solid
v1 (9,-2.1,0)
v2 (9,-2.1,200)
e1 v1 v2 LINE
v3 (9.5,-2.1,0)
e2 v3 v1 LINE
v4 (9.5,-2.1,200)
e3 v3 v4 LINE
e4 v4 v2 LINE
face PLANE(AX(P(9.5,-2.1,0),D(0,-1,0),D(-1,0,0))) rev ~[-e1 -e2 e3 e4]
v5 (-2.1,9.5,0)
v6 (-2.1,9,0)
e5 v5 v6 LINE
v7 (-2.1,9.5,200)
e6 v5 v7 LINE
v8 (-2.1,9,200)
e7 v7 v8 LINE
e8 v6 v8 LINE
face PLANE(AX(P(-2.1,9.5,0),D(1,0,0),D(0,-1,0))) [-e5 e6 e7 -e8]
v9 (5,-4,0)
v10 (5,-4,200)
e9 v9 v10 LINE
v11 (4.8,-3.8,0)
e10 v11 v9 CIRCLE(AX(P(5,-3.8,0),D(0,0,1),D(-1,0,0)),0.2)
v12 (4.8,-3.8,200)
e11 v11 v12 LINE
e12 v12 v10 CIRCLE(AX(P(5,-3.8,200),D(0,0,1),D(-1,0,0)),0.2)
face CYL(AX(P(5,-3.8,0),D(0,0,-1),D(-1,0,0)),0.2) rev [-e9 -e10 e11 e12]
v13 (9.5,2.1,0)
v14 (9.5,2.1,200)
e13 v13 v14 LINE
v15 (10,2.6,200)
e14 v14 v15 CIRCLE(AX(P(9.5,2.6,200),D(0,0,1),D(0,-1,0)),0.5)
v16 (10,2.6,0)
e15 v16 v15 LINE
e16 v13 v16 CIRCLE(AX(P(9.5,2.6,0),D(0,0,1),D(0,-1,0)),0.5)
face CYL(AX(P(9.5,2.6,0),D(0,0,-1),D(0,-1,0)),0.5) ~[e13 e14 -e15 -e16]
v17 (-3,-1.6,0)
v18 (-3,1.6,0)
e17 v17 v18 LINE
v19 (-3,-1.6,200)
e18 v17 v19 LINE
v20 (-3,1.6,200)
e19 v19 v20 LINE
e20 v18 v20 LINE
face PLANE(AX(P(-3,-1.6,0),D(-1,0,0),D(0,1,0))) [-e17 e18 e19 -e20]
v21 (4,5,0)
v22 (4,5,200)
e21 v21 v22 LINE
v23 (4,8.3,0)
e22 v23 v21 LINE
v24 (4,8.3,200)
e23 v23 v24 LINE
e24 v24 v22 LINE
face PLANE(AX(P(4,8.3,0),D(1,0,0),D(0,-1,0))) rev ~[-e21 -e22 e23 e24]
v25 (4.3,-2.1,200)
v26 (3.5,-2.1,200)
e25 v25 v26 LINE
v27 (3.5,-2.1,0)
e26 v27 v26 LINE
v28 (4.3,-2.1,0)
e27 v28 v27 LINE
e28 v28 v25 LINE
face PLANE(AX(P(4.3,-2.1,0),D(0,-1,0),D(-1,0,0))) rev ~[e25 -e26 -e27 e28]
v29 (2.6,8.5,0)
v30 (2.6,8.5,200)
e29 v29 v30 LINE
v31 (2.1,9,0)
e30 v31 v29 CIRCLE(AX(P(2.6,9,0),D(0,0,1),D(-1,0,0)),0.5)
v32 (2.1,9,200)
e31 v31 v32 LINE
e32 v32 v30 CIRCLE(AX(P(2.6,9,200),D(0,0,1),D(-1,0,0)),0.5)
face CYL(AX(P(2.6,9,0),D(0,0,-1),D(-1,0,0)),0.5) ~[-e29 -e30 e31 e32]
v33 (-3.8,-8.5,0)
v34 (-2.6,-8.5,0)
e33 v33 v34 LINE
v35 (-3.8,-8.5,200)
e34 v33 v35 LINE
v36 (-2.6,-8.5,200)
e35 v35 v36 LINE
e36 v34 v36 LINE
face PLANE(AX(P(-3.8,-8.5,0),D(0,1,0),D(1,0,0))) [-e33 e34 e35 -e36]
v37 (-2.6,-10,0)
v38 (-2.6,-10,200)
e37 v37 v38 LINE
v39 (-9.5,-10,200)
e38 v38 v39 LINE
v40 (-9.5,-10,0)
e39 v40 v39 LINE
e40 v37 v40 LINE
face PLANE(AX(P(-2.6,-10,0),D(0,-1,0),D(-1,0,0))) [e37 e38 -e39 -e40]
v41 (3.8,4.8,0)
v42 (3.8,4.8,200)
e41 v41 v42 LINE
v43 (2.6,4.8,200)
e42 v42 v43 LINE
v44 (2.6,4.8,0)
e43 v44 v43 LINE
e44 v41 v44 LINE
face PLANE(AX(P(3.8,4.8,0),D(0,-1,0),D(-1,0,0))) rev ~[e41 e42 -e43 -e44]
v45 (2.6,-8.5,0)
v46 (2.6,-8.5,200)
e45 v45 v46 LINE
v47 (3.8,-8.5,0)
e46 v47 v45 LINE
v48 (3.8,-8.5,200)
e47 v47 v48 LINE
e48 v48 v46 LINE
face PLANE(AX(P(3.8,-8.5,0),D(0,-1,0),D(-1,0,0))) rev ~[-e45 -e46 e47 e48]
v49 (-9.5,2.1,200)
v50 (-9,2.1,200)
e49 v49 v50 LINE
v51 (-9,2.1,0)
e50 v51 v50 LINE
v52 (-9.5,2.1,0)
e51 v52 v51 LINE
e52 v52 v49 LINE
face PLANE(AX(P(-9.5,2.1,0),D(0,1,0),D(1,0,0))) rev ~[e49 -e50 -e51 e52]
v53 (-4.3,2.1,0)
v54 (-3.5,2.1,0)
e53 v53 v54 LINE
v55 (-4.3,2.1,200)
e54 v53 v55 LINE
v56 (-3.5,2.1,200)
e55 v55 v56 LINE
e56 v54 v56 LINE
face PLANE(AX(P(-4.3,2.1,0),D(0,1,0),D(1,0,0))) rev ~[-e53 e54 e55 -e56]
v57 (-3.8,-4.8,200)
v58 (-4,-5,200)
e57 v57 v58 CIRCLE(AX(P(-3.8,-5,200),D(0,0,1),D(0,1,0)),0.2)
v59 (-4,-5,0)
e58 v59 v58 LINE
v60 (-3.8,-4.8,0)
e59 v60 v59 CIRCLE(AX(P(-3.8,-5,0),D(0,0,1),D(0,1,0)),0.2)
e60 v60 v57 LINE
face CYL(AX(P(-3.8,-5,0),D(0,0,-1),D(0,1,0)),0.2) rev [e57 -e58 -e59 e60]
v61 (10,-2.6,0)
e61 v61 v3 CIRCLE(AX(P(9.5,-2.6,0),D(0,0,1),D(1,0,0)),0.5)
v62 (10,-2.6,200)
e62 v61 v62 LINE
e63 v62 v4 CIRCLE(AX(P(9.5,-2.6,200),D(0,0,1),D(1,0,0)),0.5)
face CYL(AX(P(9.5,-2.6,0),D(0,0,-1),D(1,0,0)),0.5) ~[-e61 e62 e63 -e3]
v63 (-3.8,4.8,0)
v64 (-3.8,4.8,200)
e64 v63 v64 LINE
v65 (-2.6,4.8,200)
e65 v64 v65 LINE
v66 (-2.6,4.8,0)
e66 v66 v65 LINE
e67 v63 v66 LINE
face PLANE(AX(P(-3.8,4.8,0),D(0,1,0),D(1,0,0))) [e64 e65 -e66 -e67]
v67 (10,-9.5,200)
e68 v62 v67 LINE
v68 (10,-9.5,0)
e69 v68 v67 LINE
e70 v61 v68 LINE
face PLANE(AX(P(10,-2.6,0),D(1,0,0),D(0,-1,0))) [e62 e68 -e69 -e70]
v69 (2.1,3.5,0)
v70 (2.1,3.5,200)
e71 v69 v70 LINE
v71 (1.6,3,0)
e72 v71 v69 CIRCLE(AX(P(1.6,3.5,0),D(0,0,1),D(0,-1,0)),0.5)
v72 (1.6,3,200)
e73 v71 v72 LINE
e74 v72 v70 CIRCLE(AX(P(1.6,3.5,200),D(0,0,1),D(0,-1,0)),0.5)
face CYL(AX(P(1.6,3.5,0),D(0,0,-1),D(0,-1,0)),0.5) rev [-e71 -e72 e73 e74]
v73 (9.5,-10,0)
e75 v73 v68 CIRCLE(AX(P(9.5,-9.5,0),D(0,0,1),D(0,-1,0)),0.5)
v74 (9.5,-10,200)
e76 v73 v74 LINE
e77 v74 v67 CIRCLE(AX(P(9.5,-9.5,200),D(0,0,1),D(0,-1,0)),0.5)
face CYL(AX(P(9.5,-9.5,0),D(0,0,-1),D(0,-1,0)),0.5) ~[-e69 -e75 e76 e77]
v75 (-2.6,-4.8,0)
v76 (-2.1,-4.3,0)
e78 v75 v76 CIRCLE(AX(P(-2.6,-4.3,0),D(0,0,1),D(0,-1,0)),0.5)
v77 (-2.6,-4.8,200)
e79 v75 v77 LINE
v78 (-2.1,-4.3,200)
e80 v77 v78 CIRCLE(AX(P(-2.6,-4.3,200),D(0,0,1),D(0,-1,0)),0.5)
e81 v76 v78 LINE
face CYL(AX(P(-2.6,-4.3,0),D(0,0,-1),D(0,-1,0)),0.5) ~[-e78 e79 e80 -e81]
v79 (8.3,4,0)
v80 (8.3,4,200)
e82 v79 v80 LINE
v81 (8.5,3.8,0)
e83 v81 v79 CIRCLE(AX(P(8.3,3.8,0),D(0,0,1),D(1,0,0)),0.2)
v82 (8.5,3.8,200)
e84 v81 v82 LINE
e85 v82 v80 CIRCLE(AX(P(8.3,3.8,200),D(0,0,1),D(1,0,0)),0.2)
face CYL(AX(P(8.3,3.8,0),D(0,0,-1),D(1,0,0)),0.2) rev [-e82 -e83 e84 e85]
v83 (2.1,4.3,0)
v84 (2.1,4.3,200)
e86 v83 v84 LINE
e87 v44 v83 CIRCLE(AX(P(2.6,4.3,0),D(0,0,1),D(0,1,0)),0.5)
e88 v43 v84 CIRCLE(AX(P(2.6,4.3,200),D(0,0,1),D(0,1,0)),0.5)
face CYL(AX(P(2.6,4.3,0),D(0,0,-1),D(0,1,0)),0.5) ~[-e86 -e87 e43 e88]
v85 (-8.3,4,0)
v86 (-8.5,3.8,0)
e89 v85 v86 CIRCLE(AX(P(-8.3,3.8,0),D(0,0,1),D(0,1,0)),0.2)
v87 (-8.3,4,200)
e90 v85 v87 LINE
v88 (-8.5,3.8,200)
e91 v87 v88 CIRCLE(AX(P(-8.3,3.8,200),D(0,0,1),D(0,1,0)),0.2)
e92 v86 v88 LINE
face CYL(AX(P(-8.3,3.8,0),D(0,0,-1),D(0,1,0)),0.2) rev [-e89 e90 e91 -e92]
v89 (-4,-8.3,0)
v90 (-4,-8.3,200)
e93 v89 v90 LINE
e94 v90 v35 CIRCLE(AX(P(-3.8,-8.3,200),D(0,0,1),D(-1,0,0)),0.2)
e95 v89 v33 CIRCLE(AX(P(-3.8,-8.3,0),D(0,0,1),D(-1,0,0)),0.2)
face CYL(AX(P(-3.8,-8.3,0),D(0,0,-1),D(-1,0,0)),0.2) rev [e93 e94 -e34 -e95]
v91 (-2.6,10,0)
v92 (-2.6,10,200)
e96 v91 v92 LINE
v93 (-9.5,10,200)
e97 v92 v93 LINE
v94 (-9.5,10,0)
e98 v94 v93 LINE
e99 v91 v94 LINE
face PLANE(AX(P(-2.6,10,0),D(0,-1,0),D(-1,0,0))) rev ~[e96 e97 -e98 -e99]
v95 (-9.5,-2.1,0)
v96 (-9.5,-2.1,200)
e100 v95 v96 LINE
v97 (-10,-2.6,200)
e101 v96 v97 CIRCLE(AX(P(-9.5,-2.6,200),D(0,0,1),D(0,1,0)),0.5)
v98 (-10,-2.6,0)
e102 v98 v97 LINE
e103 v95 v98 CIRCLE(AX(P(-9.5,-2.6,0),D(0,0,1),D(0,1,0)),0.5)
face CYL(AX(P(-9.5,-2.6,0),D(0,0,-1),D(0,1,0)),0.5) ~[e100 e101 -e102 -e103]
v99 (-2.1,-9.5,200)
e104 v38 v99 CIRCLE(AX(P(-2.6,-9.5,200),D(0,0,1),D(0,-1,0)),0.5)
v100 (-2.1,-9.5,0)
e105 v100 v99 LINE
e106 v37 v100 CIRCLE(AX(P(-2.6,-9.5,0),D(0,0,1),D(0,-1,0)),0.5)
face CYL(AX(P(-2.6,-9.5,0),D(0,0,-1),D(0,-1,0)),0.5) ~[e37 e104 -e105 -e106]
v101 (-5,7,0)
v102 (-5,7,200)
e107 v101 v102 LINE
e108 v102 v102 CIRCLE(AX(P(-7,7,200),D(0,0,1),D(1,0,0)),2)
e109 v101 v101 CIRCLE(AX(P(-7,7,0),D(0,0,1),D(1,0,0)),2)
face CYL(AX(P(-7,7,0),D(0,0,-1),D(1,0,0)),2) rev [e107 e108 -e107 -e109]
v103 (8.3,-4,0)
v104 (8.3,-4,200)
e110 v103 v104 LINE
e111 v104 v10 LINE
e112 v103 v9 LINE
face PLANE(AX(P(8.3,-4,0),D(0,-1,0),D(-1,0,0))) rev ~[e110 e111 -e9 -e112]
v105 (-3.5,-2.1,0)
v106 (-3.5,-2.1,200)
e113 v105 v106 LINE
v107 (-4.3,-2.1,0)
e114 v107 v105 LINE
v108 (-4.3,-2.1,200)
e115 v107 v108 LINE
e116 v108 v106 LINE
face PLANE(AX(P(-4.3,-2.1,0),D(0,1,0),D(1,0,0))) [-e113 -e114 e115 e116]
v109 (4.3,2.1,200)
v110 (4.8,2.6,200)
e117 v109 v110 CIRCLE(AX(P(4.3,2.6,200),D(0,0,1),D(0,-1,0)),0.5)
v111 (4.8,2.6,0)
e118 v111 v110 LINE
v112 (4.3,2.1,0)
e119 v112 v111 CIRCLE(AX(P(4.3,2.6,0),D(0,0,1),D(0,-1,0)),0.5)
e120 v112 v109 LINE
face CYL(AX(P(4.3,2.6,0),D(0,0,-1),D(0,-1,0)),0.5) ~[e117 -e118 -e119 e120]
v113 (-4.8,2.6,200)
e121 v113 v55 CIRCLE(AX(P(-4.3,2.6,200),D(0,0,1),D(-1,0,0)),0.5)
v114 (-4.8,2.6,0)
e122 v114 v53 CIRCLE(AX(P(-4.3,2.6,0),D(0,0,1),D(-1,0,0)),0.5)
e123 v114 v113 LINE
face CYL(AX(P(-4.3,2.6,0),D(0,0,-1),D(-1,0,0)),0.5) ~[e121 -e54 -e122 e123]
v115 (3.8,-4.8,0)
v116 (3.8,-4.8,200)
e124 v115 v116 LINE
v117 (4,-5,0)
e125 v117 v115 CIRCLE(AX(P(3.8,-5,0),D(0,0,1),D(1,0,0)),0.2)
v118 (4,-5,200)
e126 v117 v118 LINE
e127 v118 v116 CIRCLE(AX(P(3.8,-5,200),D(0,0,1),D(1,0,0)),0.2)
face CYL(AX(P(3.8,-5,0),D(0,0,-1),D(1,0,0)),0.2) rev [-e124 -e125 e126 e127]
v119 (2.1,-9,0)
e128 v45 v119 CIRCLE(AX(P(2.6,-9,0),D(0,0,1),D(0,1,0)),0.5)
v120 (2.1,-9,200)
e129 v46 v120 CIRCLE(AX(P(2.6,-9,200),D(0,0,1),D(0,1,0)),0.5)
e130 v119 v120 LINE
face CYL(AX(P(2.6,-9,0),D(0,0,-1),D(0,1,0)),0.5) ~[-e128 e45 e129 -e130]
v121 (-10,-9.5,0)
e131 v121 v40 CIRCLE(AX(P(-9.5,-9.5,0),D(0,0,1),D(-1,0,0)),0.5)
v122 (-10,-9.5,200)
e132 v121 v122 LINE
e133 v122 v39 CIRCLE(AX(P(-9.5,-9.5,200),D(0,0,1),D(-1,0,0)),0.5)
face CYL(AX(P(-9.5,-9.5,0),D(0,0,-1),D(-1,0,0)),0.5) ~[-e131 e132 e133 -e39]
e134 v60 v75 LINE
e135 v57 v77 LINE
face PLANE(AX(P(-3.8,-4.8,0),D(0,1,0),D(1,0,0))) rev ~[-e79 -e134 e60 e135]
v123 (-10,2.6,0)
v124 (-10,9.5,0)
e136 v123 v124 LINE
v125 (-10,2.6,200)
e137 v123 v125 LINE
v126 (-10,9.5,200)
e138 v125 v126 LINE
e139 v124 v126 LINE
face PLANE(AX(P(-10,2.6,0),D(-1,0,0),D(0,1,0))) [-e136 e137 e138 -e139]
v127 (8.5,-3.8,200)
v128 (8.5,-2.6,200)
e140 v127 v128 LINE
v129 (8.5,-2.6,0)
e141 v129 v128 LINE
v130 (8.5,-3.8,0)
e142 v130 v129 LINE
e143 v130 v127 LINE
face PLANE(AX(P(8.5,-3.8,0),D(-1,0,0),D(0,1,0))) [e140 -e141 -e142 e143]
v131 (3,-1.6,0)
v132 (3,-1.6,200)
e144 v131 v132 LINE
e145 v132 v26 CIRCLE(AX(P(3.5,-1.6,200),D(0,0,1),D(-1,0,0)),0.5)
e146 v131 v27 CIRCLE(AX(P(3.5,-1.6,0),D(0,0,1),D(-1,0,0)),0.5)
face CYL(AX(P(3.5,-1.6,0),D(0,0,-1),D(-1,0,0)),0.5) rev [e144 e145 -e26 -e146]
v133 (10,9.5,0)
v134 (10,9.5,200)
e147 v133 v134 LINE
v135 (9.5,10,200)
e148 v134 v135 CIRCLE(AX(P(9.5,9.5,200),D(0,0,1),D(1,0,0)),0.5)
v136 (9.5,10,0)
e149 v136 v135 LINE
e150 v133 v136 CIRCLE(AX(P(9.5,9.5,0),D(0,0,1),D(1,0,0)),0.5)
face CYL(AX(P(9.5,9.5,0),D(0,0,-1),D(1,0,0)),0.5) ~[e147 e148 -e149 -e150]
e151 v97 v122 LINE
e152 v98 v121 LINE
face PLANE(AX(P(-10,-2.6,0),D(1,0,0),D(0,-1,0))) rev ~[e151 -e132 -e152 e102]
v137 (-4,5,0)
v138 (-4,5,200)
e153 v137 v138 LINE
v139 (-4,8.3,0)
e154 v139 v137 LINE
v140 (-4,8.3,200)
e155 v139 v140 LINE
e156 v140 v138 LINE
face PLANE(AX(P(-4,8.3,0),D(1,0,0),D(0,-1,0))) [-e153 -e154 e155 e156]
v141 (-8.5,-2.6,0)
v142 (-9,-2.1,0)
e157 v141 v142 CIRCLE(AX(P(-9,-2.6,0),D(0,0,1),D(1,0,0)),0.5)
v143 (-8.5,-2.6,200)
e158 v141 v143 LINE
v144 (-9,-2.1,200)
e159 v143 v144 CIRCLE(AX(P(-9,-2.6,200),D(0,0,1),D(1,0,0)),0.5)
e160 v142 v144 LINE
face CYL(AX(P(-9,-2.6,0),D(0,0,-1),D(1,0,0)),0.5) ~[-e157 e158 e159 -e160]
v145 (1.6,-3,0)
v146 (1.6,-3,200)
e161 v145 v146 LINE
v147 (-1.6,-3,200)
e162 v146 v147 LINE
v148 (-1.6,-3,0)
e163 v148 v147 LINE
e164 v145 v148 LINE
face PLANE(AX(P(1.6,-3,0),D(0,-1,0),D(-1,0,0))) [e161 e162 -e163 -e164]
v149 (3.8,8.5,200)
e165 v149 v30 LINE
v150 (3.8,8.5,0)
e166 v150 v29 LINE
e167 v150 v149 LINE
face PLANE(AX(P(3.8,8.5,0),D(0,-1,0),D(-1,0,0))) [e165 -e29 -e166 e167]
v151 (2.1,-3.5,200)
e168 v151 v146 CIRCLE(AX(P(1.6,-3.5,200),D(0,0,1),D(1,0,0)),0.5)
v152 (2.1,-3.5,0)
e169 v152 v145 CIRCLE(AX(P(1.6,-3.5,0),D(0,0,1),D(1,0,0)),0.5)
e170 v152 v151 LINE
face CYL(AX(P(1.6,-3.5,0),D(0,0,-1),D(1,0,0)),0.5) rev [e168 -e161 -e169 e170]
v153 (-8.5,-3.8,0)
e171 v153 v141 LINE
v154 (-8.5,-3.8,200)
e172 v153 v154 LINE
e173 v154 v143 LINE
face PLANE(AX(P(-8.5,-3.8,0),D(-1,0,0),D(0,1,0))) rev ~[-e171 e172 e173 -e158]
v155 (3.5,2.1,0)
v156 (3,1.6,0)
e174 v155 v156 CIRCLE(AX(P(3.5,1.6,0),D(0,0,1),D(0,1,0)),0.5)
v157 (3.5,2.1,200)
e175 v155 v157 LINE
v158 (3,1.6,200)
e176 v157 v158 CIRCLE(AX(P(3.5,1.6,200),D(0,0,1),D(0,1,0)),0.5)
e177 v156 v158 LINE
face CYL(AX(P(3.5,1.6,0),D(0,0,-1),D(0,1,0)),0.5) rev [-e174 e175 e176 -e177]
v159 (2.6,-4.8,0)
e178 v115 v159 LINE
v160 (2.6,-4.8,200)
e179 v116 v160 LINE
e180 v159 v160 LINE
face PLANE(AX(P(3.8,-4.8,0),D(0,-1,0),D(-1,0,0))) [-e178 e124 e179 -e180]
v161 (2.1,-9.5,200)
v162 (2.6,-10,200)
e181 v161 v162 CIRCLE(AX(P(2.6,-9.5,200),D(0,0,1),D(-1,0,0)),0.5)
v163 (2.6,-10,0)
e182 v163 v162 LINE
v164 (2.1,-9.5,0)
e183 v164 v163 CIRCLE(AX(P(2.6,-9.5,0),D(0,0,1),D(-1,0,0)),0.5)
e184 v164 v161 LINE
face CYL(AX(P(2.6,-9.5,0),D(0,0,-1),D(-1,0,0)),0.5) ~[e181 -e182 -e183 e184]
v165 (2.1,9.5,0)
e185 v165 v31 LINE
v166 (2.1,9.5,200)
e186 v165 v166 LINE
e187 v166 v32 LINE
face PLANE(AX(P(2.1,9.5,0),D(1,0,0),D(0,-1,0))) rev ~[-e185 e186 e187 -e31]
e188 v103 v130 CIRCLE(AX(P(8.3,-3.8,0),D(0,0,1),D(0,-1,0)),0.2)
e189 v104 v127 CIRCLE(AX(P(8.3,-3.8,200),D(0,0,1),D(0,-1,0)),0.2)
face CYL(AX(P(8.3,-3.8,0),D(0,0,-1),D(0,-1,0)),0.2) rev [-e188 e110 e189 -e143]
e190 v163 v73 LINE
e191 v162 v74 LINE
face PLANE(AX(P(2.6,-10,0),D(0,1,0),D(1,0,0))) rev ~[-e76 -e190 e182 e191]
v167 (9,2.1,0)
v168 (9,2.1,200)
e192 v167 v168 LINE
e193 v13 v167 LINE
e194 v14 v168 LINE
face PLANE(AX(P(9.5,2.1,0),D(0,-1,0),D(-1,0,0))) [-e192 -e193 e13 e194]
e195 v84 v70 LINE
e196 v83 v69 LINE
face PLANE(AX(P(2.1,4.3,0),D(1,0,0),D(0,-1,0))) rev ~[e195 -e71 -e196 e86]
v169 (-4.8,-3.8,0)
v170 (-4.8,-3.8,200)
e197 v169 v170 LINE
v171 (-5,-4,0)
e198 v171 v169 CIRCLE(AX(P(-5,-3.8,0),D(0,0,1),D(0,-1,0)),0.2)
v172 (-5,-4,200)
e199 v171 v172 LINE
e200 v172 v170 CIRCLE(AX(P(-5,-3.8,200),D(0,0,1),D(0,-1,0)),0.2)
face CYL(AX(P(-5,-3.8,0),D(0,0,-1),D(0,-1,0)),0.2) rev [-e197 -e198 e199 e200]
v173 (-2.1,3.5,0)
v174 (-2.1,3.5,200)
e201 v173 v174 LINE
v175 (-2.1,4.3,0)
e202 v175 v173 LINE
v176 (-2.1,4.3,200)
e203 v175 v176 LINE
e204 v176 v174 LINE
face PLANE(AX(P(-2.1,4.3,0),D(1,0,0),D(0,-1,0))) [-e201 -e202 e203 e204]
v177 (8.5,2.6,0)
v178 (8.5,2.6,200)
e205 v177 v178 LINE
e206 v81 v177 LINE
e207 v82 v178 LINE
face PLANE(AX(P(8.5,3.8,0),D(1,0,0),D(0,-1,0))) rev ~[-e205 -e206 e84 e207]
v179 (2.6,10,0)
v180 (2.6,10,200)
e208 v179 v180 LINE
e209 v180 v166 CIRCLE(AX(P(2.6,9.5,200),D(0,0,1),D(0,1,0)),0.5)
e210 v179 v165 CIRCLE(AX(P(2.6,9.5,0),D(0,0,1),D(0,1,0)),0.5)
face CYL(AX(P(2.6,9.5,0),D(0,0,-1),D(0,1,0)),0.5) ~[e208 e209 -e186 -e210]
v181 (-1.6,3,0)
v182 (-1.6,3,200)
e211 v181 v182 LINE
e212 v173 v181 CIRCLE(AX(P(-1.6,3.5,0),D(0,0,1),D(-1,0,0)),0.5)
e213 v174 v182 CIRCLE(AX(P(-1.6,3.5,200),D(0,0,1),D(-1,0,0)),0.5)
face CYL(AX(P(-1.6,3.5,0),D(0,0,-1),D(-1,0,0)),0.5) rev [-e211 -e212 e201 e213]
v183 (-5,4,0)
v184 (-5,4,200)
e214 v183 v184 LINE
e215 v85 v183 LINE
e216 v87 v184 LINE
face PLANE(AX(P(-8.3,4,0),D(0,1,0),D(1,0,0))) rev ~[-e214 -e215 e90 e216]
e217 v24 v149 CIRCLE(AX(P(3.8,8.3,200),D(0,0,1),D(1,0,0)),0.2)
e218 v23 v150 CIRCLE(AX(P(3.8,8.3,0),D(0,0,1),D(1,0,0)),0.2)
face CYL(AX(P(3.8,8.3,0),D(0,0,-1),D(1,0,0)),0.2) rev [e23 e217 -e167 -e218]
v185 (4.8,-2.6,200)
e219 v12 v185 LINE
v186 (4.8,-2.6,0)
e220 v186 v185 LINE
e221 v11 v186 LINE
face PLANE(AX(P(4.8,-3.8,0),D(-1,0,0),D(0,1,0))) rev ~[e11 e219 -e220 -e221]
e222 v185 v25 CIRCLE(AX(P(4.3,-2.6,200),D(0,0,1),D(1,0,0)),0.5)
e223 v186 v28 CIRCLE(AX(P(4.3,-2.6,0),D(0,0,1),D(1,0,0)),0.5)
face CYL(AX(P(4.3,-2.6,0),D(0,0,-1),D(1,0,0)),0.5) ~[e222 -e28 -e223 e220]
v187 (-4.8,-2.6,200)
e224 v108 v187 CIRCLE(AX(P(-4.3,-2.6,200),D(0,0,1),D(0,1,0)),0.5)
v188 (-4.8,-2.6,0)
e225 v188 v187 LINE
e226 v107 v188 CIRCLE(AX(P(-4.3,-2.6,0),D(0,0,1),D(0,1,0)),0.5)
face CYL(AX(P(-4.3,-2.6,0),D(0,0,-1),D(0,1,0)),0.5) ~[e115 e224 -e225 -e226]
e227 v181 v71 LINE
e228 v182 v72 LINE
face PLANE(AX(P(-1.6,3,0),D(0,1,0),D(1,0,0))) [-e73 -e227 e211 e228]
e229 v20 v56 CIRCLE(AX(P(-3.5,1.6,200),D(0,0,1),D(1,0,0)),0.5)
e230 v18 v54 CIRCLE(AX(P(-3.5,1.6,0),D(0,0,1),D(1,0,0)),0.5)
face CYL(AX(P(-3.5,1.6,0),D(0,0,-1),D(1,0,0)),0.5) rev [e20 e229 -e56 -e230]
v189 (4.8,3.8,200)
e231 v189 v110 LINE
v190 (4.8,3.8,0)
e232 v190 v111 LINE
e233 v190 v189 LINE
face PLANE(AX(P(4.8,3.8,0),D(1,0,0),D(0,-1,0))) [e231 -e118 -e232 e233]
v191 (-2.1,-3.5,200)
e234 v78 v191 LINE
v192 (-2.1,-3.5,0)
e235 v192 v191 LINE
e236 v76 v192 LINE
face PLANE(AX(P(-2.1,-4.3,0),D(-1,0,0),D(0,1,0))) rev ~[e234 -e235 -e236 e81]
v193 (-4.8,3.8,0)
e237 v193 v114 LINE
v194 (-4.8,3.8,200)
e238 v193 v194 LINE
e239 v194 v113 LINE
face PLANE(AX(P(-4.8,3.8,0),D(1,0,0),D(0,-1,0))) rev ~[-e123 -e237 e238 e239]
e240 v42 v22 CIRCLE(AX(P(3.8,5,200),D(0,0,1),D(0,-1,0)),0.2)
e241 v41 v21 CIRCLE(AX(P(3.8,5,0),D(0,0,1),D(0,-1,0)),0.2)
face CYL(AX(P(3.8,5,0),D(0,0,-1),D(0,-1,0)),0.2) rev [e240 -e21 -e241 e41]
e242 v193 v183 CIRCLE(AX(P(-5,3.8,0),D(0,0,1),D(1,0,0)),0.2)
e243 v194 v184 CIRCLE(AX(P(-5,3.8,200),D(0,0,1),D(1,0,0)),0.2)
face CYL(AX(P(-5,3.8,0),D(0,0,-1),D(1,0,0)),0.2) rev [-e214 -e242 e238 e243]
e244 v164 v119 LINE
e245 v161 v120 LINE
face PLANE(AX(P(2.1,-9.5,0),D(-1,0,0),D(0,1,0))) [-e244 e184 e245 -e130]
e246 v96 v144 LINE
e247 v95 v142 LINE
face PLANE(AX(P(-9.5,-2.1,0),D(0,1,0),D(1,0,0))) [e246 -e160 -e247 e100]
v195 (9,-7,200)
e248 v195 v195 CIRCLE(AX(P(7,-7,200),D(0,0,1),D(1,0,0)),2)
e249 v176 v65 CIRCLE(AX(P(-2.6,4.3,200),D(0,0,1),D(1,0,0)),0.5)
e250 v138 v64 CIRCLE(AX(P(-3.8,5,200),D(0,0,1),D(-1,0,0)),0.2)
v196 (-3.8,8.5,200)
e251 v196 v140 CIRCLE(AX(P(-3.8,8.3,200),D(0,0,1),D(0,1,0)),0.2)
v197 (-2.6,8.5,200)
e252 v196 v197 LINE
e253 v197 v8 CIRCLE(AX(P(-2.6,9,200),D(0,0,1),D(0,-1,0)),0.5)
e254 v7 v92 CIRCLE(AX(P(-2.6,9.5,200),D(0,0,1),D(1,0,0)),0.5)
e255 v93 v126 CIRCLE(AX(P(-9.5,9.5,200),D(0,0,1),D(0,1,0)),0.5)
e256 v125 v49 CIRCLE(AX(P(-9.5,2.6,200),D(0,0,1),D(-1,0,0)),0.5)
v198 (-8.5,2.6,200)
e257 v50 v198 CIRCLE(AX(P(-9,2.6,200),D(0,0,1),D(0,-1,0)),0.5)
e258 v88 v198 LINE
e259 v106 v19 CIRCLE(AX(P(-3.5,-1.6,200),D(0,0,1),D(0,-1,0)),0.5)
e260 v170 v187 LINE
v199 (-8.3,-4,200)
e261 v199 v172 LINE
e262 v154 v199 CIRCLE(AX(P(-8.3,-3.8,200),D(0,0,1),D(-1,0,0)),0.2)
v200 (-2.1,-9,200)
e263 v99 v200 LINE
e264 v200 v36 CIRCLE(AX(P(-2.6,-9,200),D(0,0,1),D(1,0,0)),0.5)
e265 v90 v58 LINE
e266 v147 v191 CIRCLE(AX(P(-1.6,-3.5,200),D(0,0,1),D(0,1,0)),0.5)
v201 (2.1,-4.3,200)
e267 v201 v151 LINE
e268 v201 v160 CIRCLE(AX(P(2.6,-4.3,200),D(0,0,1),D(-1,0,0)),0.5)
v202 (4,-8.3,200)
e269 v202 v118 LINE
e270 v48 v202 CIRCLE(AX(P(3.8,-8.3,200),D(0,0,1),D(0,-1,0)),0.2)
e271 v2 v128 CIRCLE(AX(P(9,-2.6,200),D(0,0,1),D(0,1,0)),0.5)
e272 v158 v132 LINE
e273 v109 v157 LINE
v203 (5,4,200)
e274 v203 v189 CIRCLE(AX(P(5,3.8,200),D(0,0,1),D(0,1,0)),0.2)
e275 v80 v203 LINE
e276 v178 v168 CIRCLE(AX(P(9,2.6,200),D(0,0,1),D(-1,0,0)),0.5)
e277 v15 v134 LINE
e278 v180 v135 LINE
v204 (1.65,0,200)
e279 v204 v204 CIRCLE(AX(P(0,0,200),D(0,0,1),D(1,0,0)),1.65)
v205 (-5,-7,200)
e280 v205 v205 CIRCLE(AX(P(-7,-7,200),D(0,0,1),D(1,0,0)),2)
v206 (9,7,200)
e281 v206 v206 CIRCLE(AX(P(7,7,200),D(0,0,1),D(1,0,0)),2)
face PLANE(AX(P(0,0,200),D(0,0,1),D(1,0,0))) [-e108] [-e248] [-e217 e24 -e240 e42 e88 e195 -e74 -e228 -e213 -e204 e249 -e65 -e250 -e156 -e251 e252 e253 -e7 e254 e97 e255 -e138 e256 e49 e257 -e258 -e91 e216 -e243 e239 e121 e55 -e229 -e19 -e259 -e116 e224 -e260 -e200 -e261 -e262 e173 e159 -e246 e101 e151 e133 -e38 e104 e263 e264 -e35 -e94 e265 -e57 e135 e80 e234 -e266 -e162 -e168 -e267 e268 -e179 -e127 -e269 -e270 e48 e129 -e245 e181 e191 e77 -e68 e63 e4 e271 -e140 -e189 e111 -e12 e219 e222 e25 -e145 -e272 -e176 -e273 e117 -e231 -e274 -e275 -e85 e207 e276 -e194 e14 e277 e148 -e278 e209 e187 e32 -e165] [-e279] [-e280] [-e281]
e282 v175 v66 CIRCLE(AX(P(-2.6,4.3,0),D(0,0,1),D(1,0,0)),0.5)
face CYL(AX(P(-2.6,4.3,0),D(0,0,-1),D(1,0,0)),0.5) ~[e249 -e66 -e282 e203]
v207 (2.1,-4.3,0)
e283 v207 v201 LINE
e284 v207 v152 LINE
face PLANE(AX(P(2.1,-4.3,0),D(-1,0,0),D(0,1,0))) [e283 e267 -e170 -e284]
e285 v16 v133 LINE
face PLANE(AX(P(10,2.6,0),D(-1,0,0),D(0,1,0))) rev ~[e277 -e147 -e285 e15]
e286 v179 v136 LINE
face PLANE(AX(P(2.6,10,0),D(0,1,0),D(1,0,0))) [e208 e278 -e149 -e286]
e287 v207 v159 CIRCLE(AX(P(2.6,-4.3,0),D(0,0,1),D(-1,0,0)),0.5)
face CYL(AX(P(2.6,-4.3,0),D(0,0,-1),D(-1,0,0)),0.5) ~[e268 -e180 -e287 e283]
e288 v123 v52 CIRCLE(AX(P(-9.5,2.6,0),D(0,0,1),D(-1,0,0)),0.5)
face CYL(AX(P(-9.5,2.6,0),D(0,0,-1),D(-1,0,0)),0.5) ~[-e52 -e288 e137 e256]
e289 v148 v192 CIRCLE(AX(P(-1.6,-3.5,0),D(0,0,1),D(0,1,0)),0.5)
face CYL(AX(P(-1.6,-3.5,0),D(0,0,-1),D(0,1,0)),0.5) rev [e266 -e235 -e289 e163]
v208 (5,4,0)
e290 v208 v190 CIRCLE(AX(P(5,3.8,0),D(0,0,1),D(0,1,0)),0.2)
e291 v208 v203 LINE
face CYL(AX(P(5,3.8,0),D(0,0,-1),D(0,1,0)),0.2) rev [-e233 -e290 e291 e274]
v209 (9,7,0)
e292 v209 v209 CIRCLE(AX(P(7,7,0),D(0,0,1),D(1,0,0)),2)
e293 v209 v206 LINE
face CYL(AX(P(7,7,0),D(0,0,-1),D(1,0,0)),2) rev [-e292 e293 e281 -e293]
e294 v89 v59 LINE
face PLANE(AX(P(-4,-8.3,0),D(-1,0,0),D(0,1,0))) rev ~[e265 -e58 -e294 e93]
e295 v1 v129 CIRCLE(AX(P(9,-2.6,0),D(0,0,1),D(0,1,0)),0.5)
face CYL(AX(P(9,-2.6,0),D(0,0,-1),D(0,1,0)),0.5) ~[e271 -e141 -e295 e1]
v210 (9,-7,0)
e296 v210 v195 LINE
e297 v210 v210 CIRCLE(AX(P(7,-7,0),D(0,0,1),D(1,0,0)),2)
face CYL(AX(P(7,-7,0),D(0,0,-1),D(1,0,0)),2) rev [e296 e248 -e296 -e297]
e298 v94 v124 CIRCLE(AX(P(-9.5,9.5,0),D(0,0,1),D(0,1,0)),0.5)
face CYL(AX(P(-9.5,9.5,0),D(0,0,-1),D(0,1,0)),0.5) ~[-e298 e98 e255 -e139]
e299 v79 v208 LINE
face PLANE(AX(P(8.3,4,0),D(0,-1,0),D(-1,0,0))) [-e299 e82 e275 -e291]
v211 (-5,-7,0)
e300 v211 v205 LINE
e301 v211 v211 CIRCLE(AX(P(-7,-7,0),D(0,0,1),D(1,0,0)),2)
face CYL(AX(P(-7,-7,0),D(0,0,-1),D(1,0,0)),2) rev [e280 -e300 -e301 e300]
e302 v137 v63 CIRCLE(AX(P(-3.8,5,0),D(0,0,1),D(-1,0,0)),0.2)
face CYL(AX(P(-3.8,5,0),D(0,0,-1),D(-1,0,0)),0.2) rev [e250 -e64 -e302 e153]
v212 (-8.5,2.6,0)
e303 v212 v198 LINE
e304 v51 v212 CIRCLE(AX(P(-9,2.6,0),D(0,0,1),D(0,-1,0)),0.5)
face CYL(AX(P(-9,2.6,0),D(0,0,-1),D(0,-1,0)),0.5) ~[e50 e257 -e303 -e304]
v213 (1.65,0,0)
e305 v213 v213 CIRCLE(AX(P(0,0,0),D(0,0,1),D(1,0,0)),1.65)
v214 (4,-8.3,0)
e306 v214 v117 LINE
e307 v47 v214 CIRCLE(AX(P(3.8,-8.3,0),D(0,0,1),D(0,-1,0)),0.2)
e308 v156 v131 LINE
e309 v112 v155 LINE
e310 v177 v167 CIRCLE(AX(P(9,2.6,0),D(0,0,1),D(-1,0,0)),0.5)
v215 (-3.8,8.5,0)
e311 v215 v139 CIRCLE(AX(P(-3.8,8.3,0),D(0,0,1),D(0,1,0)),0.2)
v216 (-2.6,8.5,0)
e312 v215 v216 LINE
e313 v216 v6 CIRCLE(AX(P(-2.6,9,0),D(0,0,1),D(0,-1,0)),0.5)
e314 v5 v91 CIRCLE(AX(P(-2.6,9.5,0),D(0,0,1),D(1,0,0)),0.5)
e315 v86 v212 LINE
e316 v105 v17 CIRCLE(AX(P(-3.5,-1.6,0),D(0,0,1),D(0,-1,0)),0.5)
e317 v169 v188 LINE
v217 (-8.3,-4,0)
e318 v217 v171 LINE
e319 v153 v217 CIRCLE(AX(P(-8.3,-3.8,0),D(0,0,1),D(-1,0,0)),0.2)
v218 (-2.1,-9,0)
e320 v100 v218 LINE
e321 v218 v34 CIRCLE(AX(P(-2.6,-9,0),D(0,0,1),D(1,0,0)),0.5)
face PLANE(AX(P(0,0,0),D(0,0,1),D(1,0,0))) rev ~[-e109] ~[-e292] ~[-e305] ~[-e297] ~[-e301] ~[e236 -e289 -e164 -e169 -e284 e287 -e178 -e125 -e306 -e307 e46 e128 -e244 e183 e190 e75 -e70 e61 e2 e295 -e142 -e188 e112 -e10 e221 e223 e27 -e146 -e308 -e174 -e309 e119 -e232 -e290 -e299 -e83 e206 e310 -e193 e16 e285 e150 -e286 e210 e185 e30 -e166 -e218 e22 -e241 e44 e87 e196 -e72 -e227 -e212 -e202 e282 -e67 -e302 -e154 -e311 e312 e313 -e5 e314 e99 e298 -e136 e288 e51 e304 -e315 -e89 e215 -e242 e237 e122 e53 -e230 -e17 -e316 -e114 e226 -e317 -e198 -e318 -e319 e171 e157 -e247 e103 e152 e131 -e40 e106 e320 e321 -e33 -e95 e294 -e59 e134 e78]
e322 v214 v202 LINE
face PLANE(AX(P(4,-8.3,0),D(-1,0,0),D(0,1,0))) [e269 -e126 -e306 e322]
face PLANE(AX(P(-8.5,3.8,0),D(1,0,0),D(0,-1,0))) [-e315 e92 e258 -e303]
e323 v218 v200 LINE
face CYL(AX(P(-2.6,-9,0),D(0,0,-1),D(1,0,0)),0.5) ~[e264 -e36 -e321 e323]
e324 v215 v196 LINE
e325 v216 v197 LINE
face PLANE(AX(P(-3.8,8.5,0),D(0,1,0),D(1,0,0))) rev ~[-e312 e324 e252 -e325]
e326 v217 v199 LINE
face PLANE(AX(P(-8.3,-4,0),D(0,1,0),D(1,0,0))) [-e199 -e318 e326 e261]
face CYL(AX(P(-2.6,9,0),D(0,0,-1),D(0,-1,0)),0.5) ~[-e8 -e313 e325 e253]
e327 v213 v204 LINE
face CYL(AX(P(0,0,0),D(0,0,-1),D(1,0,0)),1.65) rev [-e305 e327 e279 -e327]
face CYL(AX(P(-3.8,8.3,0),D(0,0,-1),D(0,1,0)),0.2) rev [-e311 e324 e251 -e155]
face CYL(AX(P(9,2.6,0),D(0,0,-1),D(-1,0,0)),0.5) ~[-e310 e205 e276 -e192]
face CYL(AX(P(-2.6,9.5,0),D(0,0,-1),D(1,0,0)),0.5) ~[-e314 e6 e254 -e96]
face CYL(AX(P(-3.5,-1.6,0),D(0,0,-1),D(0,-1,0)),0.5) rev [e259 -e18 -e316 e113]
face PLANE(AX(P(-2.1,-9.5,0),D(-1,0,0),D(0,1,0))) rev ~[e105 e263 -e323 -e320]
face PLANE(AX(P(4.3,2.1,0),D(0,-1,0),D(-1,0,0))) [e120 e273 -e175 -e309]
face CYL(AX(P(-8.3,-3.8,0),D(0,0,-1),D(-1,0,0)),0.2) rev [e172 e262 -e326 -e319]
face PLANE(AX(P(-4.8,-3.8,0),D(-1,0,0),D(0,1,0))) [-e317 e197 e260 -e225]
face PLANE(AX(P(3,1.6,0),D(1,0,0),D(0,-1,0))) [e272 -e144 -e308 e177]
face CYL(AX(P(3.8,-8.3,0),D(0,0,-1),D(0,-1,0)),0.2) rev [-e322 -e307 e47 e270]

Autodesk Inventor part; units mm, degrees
ref_plane "YZ Plane" through (0, 0, 0) normal (1, 0, 0) x (0, 1, 0)
ref_plane "XZ Plane" through (0, 0, 0) normal (0, 1, 0) x (-1, 0, 0)
ref_plane "XY Plane" through (0, 0, 0) normal (0, 0, 1) x (1, 0, 0)
sketch "BaseS" plane through (0, 0, 0) normal (0, 0, 1) x (1, 0, 0)
  line L0 (8.5, -3.8) -> (8.5, -2.6)
  line L1 (4, -8.3) -> (4, -5)
  circle A0 centre (7, -7) radius 2
  line L2 (10, -2.6) -> (10, -9.5)
  line L3 (2.6, -10) -> (9.5, -10)
  line L4 (2.1, -9.5) -> (2.1, -9)
  line L5 (8.5, -2.6) -> (8.5, -3.8)
  line L6 (3.8, -4.8) -> (2.6, -4.8)
  line L7 (4.8, -3.8) -> (4.8, -2.6)
  arc A1 (2.1, -4.3) -> (2.6, -4.8) centre (2.6, -4.3) ccw
  arc A2 (2.6, -8.5) -> (2.1, -9) centre (2.6, -9) ccw
  arc A3 (3.8, -8.5) -> (4, -8.3) centre (3.8, -8.3) ccw
  arc A4 (4, -5) -> (3.8, -4.8) centre (3.8, -5) ccw
  arc A5 (2.1, -3.5) -> (1.6, -3) centre (1.6, -3.5) ccw
  arc A6 (2.1, -9.5) -> (2.6, -10) centre (2.6, -9.5) ccw
  arc A7 (9.5, -10) -> (10, -9.5) centre (9.5, -9.5) ccw
  arc A8 (10, -2.6) -> (9.5, -2.1) centre (9.5, -2.6) ccw
  arc A9 (9, -2.1) -> (8.5, -2.6) centre (9, -2.6) ccw
  arc A10 (8.3, -4) -> (8.5, -3.8) centre (8.3, -3.8) ccw
  arc A11 (4.8, -3.8) -> (5, -4) centre (5, -3.8) ccw
  line L8 (4.3, -2.1) -> (3.5, -2.1)
  arc A12 (4.8, -2.6) -> (4.3, -2.1) centre (4.3, -2.6) ccw
  arc A13 (3, -1.6) -> (3.5, -2.1) centre (3.5, -1.6) ccw
  line L9 (2.1, -4.3) -> (2.1, -3.5)
  line L10 (3.8, -8.5) -> (2.6, -8.5)
  line L11 (9.5, -2.1) -> (9, -2.1)
  line L12 (8.3, -4) -> (5, -4)
  circle A14 centre (0, 0) radius 1.65
  arc A15 (8.5, 2.6) -> (9, 2.1) centre (9, 2.6) ccw
  line L13 (8.5, 3.8) -> (8.5, 2.6)
  arc A16 (8.5, 3.8) -> (8.3, 4) centre (8.3, 3.8) ccw
  line L14 (8.3, 4) -> (5, 4)
  line L15 (10, 2.6) -> (10, 9.5)
  arc A17 (10, 9.5) -> (9.5, 10) centre (9.5, 9.5) ccw
  circle A18 centre (7, 7) radius 2
  line L16 (4, 8.3) -> (4, 5)
  line L17 (2.6, 10) -> (9.5, 10)
  line L18 (9.5, 2.1) -> (9, 2.1)
  arc A19 (9.5, 2.1) -> (10, 2.6) centre (9.5, 2.6) ccw
  line L19 (3.8, 8.5) -> (2.6, 8.5)
  line L20 (4.8, 3.8) -> (4.8, 2.6)
  arc A20 (4.3, 2.1) -> (4.8, 2.6) centre (4.3, 2.6) ccw
  line L21 (2.6, 8.5) -> (3.8, 8.5)
  arc A21 (4, 8.3) -> (3.8, 8.5) centre (3.8, 8.3) ccw
  arc A22 (2.1, 9) -> (2.6, 8.5) centre (2.6, 9) ccw
  arc A23 (2.6, 10) -> (2.1, 9.5) centre (2.6, 9.5) ccw
  line L22 (2.1, 9.5) -> (2.1, 9)
  arc A24 (1.6, 3) -> (2.1, 3.5) centre (1.6, 3.5) ccw
  line L23 (3.8, 4.8) -> (2.6, 4.8)
  arc A25 (5, 4) -> (4.8, 3.8) centre (5, 3.8) ccw
  arc A26 (3.8, 4.8) -> (4, 5) centre (3.8, 5) ccw
  line L24 (4.3, 2.1) -> (3.5, 2.1)
  arc A27 (2.6, 4.8) -> (2.1, 4.3) centre (2.6, 4.3) ccw
  line L25 (2.1, 4.3) -> (2.1, 3.5)
  arc A28 (3.5, 2.1) -> (3, 1.6) centre (3.5, 1.6) ccw
  arc A29 (-2.6, 8.5) -> (-2.1, 9) centre (-2.6, 9) ccw
  line L26 (-3.8, 8.5) -> (-2.6, 8.5)
  arc A30 (-3.8, 8.5) -> (-4, 8.3) centre (-3.8, 8.3) ccw
  line L27 (-4, 8.3) -> (-4, 5)
  line L28 (-2.6, 10) -> (-9.5, 10)
  arc A31 (-9.5, 10) -> (-10, 9.5) centre (-9.5, 9.5) ccw
  circle A32 centre (-7, 7) radius 2
  line L29 (-8.3, 4) -> (-5, 4)
  line L30 (-10, 2.6) -> (-10, 9.5)
  line L31 (-2.1, 9.5) -> (-2.1, 9)
  arc A33 (-2.1, 9.5) -> (-2.6, 10) centre (-2.6, 9.5) ccw
  line L32 (-8.5, 3.8) -> (-8.5, 2.6)
  line L33 (-3.8, 4.8) -> (-2.6, 4.8)
  arc A34 (-2.1, 4.3) -> (-2.6, 4.8) centre (-2.6, 4.3) ccw
  line L34 (-8.5, 2.6) -> (-8.5, 3.8)
  arc A35 (-8.3, 4) -> (-8.5, 3.8) centre (-8.3, 3.8) ccw
  arc A36 (-9, 2.1) -> (-8.5, 2.6) centre (-9, 2.6) ccw
  arc A37 (-10, 2.6) -> (-9.5, 2.1) centre (-9.5, 2.6) ccw
  line L35 (-9.5, 2.1) -> (-9, 2.1)
  arc A38 (-3, 1.6) -> (-3.5, 2.1) centre (-3.5, 1.6) ccw
  line L36 (-4.8, 3.8) -> (-4.8, 2.6)
  arc A39 (-4, 5) -> (-3.8, 4.8) centre (-3.8, 5) ccw
  arc A40 (-4.8, 3.8) -> (-5, 4) centre (-5, 3.8) ccw
  line L37 (-2.1, 4.3) -> (-2.1, 3.5)
  arc A41 (-4.8, 2.6) -> (-4.3, 2.1) centre (-4.3, 2.6) ccw
  line L38 (-4.3, 2.1) -> (-3.5, 2.1)
  arc A42 (-2.1, 3.5) -> (-1.6, 3) centre (-1.6, 3.5) ccw
  arc A43 (-8.5, -2.6) -> (-9, -2.1) centre (-9, -2.6) ccw
  line L39 (-8.5, -3.8) -> (-8.5, -2.6)
  arc A44 (-8.5, -3.8) -> (-8.3, -4) centre (-8.3, -3.8) ccw
  line L40 (-8.3, -4) -> (-5, -4)
  line L41 (-10, -2.6) -> (-10, -9.5)
  arc A45 (-10, -9.5) -> (-9.5, -10) centre (-9.5, -9.5) ccw
  circle A46 centre (-7, -7) radius 2
  line L42 (-4, -8.3) -> (-4, -5)
  line L43 (-2.6, -10) -> (-9.5, -10)
  line L44 (-9.5, -2.1) -> (-9, -2.1)
  arc A47 (-9.5, -2.1) -> (-10, -2.6) centre (-9.5, -2.6) ccw
  line L45 (-3.8, -8.5) -> (-2.6, -8.5)
  line L46 (-4.8, -3.8) -> (-4.8, -2.6)
  arc A48 (-4.3, -2.1) -> (-4.8, -2.6) centre (-4.3, -2.6) ccw
  line L47 (-2.6, -8.5) -> (-3.8, -8.5)
  arc A49 (-4, -8.3) -> (-3.8, -8.5) centre (-3.8, -8.3) ccw
  arc A50 (-2.1, -9) -> (-2.6, -8.5) centre (-2.6, -9) ccw
  arc A51 (-2.6, -10) -> (-2.1, -9.5) centre (-2.6, -9.5) ccw
  line L48 (-2.1, -9.5) -> (-2.1, -9)
  arc A52 (-1.6, -3) -> (-2.1, -3.5) centre (-1.6, -3.5) ccw
  line L49 (-3.8, -4.8) -> (-2.6, -4.8)
  arc A53 (-5, -4) -> (-4.8, -3.8) centre (-5, -3.8) ccw
  arc A54 (-3.8, -4.8) -> (-4, -5) centre (-3.8, -5) ccw
  line L50 (-4.3, -2.1) -> (-3.5, -2.1)
  arc A55 (-2.6, -4.8) -> (-2.1, -4.3) centre (-2.6, -4.3) ccw
  line L51 (-2.1, -4.3) -> (-2.1, -3.5)
  arc A56 (-3.5, -2.1) -> (-3, -1.6) centre (-3.5, -1.6) ccw
  line L52 (1.6, -3) -> (-1.6, -3)
  line L53 (-3, -1.6) -> (-3, 1.6)
  line L54 (-1.6, 3) -> (1.6, 3)
  line L55 (3, 1.6) -> (3, -1.6)
  point P0 (2.1, -10)
  point P1 (10, 2.1)
  point P2 (-2.1, 10)
  point P3 (-10, -2.1)
  dimension "d2" = 4
  dimension "d3" = 3.7
  dimension "d4" = 0.5
  dimension "d5" = 0.5
  dimension "d6" = 0.2
  dimension "d7" = 0.5
  dimension "d8" = 0.5
  dimension "d9" = 0.5
  dimension "d10" = 0.2
  dimension "d11" = 0.5
  dimension "d12" = 1.5
  dimension "d13" = 3.7
  dimension "d14" = 1.5
  dimension "d15" = 3.3
  dimension "d16" = 10
  dimension "d17" = 2.1
  dimension "d18" = 2.1
  dimension "d19" = 1.9
  dimension "d20" = 7
  dimension "d21" = 2.1
  dimension "d22" = 2.1
  dimension "d23" = 1.9
  dimension "d24" = 7
  dimension "d25" = 10
  dimension "d26" = 360
  dimension "d27" = 3
extrude "押し出し1" add sketch "BaseS" along normal blind 200
properties part number "S200" material "アルミニウム 6061"
